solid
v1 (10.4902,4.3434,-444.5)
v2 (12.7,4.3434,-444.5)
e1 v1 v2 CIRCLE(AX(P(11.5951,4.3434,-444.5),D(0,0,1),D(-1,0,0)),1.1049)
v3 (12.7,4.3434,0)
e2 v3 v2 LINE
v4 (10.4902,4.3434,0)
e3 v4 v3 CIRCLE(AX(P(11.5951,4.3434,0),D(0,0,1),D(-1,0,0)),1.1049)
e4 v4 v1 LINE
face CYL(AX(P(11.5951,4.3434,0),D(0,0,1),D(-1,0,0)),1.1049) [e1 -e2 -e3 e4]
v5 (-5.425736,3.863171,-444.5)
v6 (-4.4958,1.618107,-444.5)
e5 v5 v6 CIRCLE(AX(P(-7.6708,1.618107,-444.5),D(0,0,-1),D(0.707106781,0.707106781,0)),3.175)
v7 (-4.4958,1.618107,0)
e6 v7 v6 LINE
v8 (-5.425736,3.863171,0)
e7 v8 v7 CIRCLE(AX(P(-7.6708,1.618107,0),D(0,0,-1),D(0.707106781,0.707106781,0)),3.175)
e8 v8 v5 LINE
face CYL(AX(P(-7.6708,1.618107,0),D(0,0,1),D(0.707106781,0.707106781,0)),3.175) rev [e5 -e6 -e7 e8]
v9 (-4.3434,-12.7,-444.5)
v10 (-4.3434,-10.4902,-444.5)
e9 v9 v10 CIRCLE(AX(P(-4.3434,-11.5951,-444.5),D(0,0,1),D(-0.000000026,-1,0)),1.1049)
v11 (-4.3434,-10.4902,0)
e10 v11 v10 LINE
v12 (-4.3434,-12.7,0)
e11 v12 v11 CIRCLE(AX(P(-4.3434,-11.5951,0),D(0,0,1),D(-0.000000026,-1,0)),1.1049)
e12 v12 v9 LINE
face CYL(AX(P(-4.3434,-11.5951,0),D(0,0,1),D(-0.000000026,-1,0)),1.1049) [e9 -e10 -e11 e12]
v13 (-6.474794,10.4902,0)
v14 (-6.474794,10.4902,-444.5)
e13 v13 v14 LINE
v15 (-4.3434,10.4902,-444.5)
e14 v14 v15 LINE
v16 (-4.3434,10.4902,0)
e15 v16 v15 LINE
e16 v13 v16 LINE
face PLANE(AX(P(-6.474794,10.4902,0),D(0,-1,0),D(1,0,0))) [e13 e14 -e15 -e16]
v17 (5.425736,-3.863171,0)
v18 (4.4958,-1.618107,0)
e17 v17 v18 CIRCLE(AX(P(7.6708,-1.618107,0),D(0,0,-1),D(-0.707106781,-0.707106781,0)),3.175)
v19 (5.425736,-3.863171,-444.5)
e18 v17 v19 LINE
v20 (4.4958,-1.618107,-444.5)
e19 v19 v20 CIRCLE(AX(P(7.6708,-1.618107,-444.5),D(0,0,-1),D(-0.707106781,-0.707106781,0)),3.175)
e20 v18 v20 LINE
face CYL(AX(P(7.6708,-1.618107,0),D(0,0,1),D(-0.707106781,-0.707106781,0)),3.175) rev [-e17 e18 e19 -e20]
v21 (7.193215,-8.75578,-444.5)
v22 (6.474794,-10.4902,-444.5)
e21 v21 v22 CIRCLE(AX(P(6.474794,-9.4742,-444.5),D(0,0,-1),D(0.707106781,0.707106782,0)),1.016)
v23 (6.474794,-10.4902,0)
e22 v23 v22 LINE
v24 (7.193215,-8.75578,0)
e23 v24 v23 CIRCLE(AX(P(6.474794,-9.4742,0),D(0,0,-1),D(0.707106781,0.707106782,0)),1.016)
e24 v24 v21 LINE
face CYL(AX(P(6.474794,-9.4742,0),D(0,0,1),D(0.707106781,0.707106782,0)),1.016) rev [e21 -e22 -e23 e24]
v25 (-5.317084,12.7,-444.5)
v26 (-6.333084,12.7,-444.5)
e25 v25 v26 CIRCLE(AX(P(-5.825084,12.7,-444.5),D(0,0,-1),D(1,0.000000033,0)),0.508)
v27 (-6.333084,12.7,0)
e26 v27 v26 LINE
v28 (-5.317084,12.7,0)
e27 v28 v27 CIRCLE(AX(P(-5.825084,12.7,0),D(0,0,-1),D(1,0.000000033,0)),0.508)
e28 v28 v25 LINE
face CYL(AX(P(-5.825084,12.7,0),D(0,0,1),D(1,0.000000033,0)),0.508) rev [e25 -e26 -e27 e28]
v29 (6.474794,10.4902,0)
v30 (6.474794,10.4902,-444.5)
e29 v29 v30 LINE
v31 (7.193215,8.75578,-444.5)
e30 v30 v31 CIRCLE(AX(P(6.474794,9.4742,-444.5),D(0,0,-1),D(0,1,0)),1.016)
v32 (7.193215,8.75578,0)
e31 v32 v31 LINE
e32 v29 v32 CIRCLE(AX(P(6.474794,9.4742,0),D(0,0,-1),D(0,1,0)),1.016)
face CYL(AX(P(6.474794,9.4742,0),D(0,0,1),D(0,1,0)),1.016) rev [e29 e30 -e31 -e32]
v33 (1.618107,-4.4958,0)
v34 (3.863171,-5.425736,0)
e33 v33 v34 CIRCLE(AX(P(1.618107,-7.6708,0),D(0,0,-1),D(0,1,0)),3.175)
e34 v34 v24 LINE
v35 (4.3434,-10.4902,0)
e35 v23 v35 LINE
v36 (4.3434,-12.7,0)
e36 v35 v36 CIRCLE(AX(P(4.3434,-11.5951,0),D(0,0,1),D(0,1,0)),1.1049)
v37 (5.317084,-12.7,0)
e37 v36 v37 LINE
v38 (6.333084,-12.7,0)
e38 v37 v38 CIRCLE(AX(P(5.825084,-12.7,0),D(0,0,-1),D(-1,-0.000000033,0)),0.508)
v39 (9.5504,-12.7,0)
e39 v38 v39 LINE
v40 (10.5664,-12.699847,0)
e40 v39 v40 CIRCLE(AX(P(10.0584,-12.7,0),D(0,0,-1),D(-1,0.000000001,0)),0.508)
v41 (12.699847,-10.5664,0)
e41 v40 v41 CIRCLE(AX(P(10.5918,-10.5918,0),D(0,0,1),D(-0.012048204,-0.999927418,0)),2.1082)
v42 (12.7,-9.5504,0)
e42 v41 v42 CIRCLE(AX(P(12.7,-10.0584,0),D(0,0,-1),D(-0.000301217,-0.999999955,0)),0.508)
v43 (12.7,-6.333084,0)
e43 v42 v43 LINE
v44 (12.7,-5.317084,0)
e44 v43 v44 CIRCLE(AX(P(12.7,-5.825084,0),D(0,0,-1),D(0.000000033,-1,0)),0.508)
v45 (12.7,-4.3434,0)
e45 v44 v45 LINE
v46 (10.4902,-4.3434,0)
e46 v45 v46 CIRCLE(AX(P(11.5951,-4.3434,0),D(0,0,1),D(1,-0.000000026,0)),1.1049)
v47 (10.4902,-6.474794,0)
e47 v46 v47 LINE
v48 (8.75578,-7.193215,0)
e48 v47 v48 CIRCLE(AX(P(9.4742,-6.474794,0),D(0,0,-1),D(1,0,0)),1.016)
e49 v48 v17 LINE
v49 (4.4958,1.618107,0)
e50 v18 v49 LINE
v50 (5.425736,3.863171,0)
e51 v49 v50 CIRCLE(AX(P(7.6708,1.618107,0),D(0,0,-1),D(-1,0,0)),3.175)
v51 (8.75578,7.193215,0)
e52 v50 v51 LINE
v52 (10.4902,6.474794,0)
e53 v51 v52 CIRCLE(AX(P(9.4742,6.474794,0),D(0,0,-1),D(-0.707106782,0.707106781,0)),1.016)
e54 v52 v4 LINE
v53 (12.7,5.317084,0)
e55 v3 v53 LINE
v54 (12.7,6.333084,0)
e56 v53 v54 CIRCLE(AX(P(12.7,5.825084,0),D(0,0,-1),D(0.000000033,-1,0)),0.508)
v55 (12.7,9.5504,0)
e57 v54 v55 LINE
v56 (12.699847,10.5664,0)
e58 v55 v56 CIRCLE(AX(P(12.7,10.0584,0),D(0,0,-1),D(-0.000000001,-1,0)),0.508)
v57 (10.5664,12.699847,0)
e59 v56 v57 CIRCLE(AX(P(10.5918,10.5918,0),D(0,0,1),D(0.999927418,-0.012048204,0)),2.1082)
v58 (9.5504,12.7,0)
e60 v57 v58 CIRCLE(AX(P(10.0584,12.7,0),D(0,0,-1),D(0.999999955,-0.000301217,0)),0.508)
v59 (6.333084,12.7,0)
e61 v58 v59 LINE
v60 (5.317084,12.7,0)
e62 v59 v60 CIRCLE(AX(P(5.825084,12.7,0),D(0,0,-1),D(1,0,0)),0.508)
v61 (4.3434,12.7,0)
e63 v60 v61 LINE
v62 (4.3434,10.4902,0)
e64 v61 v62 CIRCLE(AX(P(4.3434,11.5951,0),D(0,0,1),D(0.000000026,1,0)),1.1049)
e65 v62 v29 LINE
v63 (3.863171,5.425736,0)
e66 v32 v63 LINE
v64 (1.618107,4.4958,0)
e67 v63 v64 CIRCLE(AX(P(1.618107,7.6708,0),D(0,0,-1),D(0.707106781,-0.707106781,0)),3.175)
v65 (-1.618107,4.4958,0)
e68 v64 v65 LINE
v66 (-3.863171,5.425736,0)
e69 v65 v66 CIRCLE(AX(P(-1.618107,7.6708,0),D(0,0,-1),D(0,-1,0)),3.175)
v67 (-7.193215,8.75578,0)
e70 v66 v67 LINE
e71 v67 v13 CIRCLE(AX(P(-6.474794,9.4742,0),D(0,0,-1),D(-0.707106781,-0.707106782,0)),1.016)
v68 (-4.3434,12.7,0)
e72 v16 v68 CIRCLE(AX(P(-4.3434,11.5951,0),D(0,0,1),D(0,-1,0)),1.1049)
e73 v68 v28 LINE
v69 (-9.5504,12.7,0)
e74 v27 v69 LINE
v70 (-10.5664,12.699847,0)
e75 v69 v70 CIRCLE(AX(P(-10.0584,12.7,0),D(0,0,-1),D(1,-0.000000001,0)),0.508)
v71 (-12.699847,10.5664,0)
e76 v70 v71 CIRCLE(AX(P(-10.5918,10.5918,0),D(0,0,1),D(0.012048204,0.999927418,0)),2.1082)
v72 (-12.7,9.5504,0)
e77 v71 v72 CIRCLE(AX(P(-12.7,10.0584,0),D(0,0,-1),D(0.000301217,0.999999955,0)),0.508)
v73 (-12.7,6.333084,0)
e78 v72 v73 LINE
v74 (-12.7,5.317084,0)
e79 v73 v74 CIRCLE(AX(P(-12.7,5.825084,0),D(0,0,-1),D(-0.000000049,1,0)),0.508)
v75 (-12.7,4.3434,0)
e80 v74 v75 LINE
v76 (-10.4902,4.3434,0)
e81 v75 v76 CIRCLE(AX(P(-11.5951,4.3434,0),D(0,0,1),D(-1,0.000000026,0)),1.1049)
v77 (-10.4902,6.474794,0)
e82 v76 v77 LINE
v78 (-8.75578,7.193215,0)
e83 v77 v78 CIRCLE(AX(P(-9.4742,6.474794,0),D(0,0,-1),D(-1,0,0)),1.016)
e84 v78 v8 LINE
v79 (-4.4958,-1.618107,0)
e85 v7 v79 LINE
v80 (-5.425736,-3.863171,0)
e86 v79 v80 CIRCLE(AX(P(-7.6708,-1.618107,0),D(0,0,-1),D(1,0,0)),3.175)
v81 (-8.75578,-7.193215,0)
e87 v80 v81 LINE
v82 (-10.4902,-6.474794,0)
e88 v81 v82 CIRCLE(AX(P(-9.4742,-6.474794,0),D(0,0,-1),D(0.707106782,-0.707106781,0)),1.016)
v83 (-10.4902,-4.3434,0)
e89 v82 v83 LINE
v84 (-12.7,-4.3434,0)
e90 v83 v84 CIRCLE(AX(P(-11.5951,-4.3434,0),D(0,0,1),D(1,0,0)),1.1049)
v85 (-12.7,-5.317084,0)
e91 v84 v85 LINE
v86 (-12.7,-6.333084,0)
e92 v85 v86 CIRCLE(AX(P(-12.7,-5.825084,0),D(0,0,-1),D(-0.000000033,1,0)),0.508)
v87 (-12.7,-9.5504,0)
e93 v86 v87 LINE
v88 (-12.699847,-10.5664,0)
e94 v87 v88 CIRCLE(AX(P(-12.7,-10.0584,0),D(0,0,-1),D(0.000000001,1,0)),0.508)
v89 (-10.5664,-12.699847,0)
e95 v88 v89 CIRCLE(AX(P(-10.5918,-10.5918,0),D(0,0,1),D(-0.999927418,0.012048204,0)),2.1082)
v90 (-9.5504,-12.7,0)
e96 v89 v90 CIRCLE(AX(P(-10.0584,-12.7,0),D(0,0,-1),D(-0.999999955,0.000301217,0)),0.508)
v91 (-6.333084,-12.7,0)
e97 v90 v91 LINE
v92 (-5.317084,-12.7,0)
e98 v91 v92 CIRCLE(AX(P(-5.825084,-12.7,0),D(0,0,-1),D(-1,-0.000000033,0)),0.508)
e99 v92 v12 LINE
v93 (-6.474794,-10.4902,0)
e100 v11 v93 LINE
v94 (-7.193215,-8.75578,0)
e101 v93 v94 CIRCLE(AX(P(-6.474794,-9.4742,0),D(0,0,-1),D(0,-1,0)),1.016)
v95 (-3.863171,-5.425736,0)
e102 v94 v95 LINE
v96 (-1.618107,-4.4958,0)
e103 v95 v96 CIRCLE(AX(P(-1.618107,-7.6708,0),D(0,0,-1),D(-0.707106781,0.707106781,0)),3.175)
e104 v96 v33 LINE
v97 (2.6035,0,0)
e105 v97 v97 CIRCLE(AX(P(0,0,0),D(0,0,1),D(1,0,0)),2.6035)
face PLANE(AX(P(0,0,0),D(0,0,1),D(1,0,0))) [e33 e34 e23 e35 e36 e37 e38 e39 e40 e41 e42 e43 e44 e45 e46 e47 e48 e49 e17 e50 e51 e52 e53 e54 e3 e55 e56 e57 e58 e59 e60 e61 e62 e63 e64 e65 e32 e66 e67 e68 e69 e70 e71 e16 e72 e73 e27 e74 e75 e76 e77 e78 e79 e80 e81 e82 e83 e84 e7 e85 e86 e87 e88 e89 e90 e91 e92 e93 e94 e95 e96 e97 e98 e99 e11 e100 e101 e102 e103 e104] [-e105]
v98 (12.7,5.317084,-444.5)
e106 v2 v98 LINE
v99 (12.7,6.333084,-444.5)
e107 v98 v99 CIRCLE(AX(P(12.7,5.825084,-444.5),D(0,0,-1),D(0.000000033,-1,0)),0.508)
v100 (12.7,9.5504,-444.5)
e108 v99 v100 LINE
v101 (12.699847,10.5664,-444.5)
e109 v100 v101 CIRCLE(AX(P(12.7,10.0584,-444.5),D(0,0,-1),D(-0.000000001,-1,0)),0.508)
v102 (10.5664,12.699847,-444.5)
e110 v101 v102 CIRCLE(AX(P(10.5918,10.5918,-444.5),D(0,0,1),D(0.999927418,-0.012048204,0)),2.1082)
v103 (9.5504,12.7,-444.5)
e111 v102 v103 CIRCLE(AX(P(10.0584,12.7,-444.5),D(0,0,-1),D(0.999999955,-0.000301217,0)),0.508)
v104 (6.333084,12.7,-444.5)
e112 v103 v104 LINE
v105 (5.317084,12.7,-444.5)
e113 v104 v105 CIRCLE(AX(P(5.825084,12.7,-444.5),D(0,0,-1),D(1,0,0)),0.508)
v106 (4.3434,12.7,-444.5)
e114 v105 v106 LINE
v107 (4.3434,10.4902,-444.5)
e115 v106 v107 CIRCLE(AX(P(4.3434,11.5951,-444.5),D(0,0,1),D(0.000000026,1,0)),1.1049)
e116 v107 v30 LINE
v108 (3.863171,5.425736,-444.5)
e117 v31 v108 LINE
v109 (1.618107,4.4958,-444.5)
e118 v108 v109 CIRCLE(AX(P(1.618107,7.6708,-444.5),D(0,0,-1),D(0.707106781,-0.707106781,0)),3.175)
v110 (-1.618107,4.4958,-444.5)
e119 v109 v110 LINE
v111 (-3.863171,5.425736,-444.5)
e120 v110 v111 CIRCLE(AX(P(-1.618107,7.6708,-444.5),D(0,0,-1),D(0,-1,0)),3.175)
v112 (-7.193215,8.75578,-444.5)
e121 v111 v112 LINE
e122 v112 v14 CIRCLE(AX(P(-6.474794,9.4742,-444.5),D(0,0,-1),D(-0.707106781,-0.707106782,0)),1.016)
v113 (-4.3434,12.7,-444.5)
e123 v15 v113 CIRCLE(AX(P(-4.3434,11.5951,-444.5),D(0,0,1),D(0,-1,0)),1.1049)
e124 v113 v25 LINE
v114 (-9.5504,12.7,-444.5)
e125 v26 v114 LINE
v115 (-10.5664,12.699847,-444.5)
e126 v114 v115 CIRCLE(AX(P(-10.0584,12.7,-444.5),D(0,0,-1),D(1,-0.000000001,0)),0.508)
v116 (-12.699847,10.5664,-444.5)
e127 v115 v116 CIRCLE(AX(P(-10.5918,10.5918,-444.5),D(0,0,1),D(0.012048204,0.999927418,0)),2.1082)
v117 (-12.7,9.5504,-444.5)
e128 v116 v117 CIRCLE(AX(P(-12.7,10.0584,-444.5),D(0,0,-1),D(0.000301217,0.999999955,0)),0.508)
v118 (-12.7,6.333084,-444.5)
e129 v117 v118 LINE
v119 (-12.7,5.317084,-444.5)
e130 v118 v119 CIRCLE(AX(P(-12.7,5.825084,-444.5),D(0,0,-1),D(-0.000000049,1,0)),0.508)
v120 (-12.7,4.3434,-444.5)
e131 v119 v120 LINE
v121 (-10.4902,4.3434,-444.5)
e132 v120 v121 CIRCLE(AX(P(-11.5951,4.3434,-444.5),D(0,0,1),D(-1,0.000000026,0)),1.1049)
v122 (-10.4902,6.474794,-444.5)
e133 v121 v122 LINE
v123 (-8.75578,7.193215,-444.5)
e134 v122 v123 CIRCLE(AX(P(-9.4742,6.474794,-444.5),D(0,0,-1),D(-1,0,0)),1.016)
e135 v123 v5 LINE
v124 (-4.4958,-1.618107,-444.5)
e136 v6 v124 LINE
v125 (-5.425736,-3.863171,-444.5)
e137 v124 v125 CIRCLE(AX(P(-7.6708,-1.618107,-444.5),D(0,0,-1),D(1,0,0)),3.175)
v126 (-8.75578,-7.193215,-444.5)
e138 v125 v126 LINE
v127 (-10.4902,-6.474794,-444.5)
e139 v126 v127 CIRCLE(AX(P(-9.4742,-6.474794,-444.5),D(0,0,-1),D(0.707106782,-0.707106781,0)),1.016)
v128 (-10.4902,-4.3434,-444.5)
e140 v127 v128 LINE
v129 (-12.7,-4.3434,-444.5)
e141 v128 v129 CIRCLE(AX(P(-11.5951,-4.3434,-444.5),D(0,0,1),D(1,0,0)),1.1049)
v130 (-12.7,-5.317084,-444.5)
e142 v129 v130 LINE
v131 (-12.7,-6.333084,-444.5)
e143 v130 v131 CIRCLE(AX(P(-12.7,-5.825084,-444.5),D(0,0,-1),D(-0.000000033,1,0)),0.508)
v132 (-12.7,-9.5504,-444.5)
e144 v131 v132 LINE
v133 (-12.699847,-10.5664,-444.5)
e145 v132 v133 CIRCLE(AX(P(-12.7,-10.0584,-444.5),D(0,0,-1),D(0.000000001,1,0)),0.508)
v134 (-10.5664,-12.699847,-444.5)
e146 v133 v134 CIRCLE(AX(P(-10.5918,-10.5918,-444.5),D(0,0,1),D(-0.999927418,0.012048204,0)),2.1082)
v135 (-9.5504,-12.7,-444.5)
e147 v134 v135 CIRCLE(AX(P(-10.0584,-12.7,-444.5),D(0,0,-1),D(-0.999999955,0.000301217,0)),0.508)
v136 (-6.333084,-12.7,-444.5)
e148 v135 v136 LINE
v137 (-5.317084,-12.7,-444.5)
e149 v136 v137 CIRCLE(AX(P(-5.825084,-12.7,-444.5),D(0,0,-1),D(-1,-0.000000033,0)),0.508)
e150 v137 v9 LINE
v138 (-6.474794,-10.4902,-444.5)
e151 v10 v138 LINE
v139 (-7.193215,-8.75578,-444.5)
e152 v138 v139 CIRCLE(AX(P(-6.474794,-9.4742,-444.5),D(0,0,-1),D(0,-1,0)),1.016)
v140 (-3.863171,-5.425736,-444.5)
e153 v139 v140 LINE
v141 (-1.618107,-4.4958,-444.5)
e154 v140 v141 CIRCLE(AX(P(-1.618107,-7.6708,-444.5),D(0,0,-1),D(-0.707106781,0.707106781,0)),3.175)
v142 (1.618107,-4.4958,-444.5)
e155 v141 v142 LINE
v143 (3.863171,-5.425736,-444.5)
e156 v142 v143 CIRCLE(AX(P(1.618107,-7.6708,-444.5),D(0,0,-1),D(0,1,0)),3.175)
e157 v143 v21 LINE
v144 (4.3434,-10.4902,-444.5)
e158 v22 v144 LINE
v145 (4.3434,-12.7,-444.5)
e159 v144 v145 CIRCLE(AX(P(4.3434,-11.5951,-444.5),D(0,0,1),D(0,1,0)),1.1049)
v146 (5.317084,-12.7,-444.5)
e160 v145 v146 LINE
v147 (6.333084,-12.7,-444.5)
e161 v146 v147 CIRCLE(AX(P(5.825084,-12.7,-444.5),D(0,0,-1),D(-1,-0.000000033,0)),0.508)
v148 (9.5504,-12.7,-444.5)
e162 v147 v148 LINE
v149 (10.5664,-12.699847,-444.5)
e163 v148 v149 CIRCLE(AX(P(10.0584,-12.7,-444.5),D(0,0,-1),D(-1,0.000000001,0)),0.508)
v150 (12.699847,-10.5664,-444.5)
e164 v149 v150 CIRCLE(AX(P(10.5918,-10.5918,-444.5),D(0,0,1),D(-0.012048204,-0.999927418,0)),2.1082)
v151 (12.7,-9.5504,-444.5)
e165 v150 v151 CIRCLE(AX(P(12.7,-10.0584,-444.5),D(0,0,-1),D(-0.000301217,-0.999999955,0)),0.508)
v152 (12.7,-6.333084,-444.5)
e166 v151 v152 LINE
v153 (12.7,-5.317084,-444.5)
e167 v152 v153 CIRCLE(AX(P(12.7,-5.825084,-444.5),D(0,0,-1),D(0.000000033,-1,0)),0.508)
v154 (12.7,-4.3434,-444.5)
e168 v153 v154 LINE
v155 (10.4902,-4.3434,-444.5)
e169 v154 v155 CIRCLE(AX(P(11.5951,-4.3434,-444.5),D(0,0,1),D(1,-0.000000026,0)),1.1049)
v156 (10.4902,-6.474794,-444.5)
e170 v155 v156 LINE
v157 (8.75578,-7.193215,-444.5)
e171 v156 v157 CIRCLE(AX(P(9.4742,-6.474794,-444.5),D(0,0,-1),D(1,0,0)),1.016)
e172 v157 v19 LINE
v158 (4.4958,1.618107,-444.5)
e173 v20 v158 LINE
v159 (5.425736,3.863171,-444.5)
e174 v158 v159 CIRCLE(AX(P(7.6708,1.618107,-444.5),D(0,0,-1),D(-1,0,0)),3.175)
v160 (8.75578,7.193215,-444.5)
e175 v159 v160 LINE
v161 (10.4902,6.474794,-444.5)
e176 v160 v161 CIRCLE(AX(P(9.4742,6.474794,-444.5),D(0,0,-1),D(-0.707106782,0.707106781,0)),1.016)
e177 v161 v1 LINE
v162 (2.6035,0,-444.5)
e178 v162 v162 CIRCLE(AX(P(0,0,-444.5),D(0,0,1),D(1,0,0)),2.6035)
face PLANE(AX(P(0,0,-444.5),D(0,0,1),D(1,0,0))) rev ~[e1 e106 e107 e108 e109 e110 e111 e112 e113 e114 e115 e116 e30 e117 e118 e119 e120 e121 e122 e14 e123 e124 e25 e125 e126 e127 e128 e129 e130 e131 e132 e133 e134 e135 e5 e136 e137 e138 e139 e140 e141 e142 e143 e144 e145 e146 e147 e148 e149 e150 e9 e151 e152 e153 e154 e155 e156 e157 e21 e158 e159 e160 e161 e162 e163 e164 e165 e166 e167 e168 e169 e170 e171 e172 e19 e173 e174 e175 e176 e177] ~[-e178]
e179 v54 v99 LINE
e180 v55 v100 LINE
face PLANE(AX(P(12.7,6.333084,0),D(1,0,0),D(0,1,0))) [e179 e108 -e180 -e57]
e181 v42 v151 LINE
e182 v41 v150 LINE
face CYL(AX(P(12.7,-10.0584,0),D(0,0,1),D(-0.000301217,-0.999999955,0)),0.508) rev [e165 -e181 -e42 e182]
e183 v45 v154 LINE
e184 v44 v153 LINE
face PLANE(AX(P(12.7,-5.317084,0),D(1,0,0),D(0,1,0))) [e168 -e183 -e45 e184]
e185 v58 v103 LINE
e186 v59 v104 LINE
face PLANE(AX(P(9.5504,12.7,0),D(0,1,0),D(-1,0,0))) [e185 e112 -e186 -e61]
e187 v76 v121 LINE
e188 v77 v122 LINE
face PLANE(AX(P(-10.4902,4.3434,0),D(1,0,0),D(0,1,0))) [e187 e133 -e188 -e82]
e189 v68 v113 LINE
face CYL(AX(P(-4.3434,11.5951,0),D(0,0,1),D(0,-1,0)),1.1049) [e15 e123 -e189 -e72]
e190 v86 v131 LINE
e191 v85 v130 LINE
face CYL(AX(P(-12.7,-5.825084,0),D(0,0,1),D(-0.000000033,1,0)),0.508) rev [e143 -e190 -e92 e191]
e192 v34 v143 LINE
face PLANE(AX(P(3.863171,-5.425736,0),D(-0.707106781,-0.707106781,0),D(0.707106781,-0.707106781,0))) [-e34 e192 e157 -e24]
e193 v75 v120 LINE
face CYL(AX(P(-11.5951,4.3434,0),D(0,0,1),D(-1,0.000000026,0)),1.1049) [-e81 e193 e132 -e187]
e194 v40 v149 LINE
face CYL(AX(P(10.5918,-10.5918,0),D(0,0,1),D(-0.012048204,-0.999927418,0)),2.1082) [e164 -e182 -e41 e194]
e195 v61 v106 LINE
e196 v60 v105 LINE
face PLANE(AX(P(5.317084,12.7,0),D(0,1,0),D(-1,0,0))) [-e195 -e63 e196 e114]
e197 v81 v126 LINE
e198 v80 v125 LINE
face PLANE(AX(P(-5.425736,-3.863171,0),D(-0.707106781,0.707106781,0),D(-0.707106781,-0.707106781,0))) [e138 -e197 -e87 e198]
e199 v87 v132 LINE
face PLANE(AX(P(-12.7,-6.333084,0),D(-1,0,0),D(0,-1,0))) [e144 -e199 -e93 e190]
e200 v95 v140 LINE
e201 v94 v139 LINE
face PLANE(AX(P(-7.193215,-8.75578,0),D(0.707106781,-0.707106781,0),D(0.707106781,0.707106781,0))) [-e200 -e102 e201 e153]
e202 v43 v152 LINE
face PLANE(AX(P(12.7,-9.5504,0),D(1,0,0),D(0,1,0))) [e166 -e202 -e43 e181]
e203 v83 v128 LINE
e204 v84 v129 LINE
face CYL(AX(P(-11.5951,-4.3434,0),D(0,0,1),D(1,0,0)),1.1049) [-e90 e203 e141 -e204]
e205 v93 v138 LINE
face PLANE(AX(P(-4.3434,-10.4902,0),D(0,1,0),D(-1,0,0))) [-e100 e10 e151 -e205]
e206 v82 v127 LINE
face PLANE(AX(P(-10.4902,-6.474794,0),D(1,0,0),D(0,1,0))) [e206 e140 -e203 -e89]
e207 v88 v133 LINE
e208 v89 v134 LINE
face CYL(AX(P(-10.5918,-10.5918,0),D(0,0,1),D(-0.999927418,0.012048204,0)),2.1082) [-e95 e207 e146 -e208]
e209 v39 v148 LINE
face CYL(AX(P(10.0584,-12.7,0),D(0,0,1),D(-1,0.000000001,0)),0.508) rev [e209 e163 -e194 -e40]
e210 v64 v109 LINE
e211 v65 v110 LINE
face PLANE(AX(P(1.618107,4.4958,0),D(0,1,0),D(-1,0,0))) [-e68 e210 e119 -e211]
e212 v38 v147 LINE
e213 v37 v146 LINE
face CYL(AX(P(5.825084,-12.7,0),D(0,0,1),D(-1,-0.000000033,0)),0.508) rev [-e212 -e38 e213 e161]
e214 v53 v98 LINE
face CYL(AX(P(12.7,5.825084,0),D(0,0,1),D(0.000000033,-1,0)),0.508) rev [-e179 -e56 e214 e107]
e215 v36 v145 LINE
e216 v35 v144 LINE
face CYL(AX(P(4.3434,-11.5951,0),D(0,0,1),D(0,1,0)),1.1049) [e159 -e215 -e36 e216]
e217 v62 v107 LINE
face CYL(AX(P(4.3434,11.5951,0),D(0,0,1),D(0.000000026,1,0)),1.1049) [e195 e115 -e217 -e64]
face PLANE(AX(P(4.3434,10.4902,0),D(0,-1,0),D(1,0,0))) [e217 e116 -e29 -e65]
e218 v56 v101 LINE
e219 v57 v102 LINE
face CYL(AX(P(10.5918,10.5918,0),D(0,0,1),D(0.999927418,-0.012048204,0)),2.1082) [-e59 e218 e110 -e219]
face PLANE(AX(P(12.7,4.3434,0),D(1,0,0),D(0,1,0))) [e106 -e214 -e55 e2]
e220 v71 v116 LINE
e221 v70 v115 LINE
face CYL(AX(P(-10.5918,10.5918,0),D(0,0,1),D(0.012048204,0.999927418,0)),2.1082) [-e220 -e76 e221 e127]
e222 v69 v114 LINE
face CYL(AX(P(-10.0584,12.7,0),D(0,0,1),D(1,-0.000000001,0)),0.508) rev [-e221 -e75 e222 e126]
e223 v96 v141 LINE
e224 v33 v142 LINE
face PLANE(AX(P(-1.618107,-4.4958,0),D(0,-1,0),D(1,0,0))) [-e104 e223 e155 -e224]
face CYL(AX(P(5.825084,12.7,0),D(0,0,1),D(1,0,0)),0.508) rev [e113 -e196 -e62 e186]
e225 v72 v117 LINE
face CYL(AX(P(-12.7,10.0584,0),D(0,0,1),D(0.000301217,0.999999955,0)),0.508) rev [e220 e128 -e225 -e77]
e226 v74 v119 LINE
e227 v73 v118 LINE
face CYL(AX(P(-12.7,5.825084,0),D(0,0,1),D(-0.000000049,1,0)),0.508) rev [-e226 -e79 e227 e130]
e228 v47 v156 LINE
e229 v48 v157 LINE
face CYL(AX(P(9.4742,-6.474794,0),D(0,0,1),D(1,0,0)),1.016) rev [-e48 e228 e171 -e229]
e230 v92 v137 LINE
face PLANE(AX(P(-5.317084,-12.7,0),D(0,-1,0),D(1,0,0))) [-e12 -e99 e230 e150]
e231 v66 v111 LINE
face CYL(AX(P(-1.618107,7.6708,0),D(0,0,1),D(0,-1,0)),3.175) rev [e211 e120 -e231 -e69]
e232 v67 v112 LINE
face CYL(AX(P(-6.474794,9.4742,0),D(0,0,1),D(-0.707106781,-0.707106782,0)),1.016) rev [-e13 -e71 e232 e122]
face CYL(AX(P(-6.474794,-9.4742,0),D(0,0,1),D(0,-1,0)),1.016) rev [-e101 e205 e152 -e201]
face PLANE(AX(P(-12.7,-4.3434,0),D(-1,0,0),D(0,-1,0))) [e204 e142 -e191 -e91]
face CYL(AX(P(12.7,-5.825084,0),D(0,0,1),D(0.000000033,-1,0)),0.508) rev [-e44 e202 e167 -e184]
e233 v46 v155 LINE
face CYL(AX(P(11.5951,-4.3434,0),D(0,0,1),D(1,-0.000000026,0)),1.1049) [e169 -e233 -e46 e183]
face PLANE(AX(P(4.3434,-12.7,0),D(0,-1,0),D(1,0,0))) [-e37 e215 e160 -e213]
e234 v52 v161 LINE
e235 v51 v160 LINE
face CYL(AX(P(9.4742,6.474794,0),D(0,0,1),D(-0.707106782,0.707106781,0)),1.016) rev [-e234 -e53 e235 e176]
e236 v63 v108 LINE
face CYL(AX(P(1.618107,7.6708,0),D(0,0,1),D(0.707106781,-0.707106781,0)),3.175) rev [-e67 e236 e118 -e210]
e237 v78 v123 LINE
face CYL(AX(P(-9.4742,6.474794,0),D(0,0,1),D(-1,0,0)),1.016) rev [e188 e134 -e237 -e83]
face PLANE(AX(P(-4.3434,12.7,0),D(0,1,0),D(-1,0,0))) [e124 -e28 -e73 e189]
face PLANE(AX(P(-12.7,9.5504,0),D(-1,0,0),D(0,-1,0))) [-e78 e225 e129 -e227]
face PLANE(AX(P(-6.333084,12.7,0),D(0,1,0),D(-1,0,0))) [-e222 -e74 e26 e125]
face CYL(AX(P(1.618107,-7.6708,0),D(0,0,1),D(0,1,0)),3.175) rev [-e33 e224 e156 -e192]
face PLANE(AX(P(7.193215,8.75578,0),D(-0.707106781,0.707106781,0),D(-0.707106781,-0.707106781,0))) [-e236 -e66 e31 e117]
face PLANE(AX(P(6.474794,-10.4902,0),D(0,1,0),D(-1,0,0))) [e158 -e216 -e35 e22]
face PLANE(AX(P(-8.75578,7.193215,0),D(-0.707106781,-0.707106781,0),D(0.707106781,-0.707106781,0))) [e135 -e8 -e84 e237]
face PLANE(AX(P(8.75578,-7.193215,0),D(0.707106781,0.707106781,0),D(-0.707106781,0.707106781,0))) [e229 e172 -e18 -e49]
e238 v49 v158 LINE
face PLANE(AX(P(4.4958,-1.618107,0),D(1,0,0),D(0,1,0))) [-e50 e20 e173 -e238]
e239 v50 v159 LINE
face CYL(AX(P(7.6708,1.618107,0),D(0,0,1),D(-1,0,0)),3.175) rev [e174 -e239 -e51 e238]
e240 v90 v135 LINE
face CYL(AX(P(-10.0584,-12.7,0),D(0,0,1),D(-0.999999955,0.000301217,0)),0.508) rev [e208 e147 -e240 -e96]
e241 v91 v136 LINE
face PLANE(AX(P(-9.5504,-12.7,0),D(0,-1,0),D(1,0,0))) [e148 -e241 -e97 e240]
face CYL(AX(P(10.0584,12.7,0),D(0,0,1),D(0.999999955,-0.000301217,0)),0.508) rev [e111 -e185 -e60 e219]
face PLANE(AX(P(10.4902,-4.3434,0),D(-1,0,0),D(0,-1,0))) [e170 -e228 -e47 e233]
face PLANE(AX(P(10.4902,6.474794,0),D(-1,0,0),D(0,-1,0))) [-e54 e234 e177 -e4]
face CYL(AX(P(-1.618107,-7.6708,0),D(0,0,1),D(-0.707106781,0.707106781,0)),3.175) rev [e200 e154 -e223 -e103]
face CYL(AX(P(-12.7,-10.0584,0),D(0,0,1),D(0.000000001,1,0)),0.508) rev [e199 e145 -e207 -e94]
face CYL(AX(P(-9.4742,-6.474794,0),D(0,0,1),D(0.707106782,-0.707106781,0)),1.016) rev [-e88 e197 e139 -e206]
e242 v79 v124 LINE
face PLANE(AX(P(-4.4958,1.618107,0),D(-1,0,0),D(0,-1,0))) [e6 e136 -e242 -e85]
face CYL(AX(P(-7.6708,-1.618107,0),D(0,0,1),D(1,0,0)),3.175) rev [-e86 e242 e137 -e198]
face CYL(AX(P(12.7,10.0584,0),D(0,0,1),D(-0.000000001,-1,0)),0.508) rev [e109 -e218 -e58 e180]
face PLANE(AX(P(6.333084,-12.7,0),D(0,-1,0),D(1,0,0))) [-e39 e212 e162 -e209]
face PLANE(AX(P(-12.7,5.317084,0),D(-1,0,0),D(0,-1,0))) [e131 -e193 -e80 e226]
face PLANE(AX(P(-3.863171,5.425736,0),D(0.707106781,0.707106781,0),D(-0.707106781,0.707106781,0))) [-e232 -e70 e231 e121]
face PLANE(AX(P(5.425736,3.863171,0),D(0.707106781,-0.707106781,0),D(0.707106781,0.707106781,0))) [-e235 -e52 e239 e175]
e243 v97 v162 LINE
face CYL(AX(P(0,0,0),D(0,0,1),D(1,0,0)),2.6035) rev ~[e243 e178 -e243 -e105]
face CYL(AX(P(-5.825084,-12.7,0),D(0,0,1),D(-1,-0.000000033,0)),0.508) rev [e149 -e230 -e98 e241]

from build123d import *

# Parameters (mm, degrees)
SKETCH1_R           = 2.6035
BOSS_EXTRUDE1_DEPTH = 444.5


with BuildPart() as part:
    # Sketch1 → Boss-Extrude1 (new body)
    with BuildSketch(Plane.XY):
        with BuildLine():
            Line((-12.7, 9.5504), (-12.7, 6.3330836))
            ThreePointArc((-12.7, 6.3330836), (-12.191999975, 5.8250836), (-12.7, 5.3170836))
            Line((-12.7, 5.3170836), (-12.7, 4.3434))
            ThreePointArc((-12.7, 4.3434), (-11.5951, 3.238499971), (-10.4902, 4.3434))
            Line((-10.4902, 4.3434), (-10.4902, 6.474794456))
            ThreePointArc((-10.4902, 6.474794456), (-9.863006367, 7.413456061), (-8.75577951, 7.193214945))
            Line((-8.75577951, 7.193214945), (-5.42573597, 3.863171405))
            ThreePointArc((-5.42573597, 3.863171405), (-4.737482484, 2.833127272), (-4.4958, 1.618107374))
            Line((-4.4958, 1.618107374), (-4.4958, -1.618107374))
            ThreePointArc((-4.4958, -1.618107374), (-4.737482484, -2.833127272), (-5.42573597, -3.863171405))
            Line((-5.42573597, -3.863171405), (-8.75577951, -7.193214945))
            ThreePointArc((-8.75577951, -7.193214945), (-9.863006367, -7.413456061), (-10.4902, -6.474794456))
            Line((-10.4902, -6.474794456), (-10.4902, -4.3434))
            ThreePointArc((-10.4902, -4.3434), (-11.5951, -3.2385), (-12.7, -4.3434))
            Line((-12.7, -4.3434), (-12.7, -5.3170836))
            ThreePointArc((-12.7, -5.3170836), (-12.191999983, -5.8250836), (-12.7, -6.3330836))
            Line((-12.7, -6.3330836), (-12.7, -9.5504))
            ThreePointArc((-12.7, -9.5504), (-12.192000006, -10.058323491), (-12.699846982, -10.566399977))
            ThreePointArc((-12.699846982, -10.566399977), (-12.082522516, -12.082522516), (-10.566399977, -12.699846982))
            ThreePointArc((-10.566399977, -12.699846982), (-10.058323491, -12.192000006), (-9.5504, -12.7))
            Line((-9.5504, -12.7), (-6.3330836, -12.7))
            ThreePointArc((-6.3330836, -12.7), (-5.8250836, -12.191999983), (-5.3170836, -12.7))
            Line((-5.3170836, -12.7), (-4.3434, -12.7))
            ThreePointArc((-4.3434, -12.7), (-3.238499971, -11.5951), (-4.3434, -10.4902))
            Line((-4.3434, -10.4902), (-6.474794456, -10.4902))
            ThreePointArc((-6.474794456, -10.4902), (-7.413456061, -9.863006367), (-7.193214945, -8.75577951))
            Line((-7.193214945, -8.75577951), (-3.863171405, -5.42573597))
            ThreePointArc((-3.863171405, -5.42573597), (-2.833127272, -4.737482484), (-1.618107374, -4.4958))
            Line((-1.618107374, -4.4958), (1.618107374, -4.4958))
            ThreePointArc((1.618107374, -4.4958), (2.833127272, -4.737482484), (3.863171405, -5.42573597))
            Line((3.863171405, -5.42573597), (7.193214945, -8.75577951))
            ThreePointArc((7.193214945, -8.75577951), (7.413456061, -9.863006367), (6.474794456, -10.4902))
            Line((6.474794456, -10.4902), (4.3434, -10.4902))
            ThreePointArc((4.3434, -10.4902), (3.2385, -11.5951), (4.3434, -12.7))
            Line((4.3434, -12.7), (5.3170836, -12.7))
            ThreePointArc((5.3170836, -12.7), (5.8250836, -12.191999983), (6.3330836, -12.7))
            Line((6.3330836, -12.7), (9.5504, -12.7))
            ThreePointArc((9.5504, -12.7), (10.058323491, -12.192000006), (10.566399977, -12.699846982))
            ThreePointArc((10.566399977, -12.699846982), (12.082522516, -12.082522516), (12.699846982, -10.566399977))
            ThreePointArc((12.699846982, -10.566399977), (12.192000006, -10.058323491), (12.7, -9.5504))
            Line((12.7, -9.5504), (12.7, -6.3330836))
            ThreePointArc((12.7, -6.3330836), (12.191999983, -5.8250836), (12.7, -5.3170836))
            Line((12.7, -5.3170836), (12.7, -4.3434))
            ThreePointArc((12.7, -4.3434), (11.5951, -3.238499971), (10.4902, -4.3434))
            Line((10.4902, -4.3434), (10.4902, -6.474794456))
            ThreePointArc((10.4902, -6.474794456), (9.863006367, -7.413456061), (8.75577951, -7.193214945))
            Line((8.75577951, -7.193214945), (5.42573597, -3.863171405))
            ThreePointArc((5.42573597, -3.863171405), (4.737482484, -2.833127272), (4.4958, -1.618107374))
            Line((4.4958, -1.618107374), (4.4958, 1.618107374))
            ThreePointArc((4.4958, 1.618107374), (4.737482484, 2.833127272), (5.42573597, 3.863171405))
            Line((5.42573597, 3.863171405), (8.75577951, 7.193214945))
            ThreePointArc((8.75577951, 7.193214945), (9.863006367, 7.413456061), (10.4902, 6.474794456))
            Line((10.4902, 6.474794456), (10.4902, 4.3434))
            ThreePointArc((10.4902, 4.3434), (11.5951, 3.2385), (12.7, 4.3434))
            Line((12.7, 4.3434), (12.7, 5.3170836))
            ThreePointArc((12.7, 5.3170836), (12.191999983, 5.8250836), (12.7, 6.3330836))
            Line((12.7, 6.3330836), (12.7, 9.5504))
            ThreePointArc((12.7, 9.5504), (12.192000006, 10.058323491), (12.699846982, 10.566399977))
            ThreePointArc((12.699846982, 10.566399977), (12.082522516, 12.082522516), (10.566399977, 12.699846982))
            ThreePointArc((10.566399977, 12.699846982), (10.058323491, 12.192000006), (9.5504, 12.7))
            Line((9.5504, 12.7), (6.3330836, 12.7))
            ThreePointArc((6.3330836, 12.7), (5.8250836, 12.192), (5.3170836, 12.7))
            Line((5.3170836, 12.7), (4.3434, 12.7))
            ThreePointArc((4.3434, 12.7), (3.238499971, 11.5951), (4.3434, 10.4902))
            Line((4.3434, 10.4902), (6.474794456, 10.4902))
            ThreePointArc((6.474794456, 10.4902), (7.413456061, 9.863006367), (7.193214945, 8.75577951))
            Line((7.193214945, 8.75577951), (3.863171405, 5.42573597))
            ThreePointArc((3.863171405, 5.42573597), (2.833127272, 4.737482484), (1.618107374, 4.4958))
            Line((1.618107374, 4.4958), (-1.618107374, 4.4958))
            ThreePointArc((-1.618107374, 4.4958), (-2.833127272, 4.737482484), (-3.863171405, 5.42573597))
            Line((-3.863171405, 5.42573597), (-7.193214945, 8.75577951))
            ThreePointArc((-7.193214945, 8.75577951), (-7.413456061, 9.863006367), (-6.474794456, 10.4902))
            Line((-6.474794456, 10.4902), (-4.3434, 10.4902))
            ThreePointArc((-4.3434, 10.4902), (-3.2385, 11.5951), (-4.3434, 12.7))
            Line((-4.3434, 12.7), (-5.3170836, 12.7))
            ThreePointArc((-5.3170836, 12.7), (-5.8250836, 12.191999983), (-6.3330836, 12.7))
            Line((-6.3330836, 12.7), (-9.5504, 12.7))
            ThreePointArc((-9.5504, 12.7), (-10.058323491, 12.192000006), (-10.566399977, 12.699846982))
            ThreePointArc((-10.566399977, 12.699846982), (-12.082522516, 12.082522516), (-12.699846982, 10.566399977))
            ThreePointArc((-12.699846982, 10.566399977), (-12.192000006, 10.058323491), (-12.7, 9.5504))
        make_face()
        Circle(SKETCH1_R, mode=Mode.SUBTRACT)
    extrude(amount=-BOSS_EXTRUDE1_DEPTH)


solid = part.part
